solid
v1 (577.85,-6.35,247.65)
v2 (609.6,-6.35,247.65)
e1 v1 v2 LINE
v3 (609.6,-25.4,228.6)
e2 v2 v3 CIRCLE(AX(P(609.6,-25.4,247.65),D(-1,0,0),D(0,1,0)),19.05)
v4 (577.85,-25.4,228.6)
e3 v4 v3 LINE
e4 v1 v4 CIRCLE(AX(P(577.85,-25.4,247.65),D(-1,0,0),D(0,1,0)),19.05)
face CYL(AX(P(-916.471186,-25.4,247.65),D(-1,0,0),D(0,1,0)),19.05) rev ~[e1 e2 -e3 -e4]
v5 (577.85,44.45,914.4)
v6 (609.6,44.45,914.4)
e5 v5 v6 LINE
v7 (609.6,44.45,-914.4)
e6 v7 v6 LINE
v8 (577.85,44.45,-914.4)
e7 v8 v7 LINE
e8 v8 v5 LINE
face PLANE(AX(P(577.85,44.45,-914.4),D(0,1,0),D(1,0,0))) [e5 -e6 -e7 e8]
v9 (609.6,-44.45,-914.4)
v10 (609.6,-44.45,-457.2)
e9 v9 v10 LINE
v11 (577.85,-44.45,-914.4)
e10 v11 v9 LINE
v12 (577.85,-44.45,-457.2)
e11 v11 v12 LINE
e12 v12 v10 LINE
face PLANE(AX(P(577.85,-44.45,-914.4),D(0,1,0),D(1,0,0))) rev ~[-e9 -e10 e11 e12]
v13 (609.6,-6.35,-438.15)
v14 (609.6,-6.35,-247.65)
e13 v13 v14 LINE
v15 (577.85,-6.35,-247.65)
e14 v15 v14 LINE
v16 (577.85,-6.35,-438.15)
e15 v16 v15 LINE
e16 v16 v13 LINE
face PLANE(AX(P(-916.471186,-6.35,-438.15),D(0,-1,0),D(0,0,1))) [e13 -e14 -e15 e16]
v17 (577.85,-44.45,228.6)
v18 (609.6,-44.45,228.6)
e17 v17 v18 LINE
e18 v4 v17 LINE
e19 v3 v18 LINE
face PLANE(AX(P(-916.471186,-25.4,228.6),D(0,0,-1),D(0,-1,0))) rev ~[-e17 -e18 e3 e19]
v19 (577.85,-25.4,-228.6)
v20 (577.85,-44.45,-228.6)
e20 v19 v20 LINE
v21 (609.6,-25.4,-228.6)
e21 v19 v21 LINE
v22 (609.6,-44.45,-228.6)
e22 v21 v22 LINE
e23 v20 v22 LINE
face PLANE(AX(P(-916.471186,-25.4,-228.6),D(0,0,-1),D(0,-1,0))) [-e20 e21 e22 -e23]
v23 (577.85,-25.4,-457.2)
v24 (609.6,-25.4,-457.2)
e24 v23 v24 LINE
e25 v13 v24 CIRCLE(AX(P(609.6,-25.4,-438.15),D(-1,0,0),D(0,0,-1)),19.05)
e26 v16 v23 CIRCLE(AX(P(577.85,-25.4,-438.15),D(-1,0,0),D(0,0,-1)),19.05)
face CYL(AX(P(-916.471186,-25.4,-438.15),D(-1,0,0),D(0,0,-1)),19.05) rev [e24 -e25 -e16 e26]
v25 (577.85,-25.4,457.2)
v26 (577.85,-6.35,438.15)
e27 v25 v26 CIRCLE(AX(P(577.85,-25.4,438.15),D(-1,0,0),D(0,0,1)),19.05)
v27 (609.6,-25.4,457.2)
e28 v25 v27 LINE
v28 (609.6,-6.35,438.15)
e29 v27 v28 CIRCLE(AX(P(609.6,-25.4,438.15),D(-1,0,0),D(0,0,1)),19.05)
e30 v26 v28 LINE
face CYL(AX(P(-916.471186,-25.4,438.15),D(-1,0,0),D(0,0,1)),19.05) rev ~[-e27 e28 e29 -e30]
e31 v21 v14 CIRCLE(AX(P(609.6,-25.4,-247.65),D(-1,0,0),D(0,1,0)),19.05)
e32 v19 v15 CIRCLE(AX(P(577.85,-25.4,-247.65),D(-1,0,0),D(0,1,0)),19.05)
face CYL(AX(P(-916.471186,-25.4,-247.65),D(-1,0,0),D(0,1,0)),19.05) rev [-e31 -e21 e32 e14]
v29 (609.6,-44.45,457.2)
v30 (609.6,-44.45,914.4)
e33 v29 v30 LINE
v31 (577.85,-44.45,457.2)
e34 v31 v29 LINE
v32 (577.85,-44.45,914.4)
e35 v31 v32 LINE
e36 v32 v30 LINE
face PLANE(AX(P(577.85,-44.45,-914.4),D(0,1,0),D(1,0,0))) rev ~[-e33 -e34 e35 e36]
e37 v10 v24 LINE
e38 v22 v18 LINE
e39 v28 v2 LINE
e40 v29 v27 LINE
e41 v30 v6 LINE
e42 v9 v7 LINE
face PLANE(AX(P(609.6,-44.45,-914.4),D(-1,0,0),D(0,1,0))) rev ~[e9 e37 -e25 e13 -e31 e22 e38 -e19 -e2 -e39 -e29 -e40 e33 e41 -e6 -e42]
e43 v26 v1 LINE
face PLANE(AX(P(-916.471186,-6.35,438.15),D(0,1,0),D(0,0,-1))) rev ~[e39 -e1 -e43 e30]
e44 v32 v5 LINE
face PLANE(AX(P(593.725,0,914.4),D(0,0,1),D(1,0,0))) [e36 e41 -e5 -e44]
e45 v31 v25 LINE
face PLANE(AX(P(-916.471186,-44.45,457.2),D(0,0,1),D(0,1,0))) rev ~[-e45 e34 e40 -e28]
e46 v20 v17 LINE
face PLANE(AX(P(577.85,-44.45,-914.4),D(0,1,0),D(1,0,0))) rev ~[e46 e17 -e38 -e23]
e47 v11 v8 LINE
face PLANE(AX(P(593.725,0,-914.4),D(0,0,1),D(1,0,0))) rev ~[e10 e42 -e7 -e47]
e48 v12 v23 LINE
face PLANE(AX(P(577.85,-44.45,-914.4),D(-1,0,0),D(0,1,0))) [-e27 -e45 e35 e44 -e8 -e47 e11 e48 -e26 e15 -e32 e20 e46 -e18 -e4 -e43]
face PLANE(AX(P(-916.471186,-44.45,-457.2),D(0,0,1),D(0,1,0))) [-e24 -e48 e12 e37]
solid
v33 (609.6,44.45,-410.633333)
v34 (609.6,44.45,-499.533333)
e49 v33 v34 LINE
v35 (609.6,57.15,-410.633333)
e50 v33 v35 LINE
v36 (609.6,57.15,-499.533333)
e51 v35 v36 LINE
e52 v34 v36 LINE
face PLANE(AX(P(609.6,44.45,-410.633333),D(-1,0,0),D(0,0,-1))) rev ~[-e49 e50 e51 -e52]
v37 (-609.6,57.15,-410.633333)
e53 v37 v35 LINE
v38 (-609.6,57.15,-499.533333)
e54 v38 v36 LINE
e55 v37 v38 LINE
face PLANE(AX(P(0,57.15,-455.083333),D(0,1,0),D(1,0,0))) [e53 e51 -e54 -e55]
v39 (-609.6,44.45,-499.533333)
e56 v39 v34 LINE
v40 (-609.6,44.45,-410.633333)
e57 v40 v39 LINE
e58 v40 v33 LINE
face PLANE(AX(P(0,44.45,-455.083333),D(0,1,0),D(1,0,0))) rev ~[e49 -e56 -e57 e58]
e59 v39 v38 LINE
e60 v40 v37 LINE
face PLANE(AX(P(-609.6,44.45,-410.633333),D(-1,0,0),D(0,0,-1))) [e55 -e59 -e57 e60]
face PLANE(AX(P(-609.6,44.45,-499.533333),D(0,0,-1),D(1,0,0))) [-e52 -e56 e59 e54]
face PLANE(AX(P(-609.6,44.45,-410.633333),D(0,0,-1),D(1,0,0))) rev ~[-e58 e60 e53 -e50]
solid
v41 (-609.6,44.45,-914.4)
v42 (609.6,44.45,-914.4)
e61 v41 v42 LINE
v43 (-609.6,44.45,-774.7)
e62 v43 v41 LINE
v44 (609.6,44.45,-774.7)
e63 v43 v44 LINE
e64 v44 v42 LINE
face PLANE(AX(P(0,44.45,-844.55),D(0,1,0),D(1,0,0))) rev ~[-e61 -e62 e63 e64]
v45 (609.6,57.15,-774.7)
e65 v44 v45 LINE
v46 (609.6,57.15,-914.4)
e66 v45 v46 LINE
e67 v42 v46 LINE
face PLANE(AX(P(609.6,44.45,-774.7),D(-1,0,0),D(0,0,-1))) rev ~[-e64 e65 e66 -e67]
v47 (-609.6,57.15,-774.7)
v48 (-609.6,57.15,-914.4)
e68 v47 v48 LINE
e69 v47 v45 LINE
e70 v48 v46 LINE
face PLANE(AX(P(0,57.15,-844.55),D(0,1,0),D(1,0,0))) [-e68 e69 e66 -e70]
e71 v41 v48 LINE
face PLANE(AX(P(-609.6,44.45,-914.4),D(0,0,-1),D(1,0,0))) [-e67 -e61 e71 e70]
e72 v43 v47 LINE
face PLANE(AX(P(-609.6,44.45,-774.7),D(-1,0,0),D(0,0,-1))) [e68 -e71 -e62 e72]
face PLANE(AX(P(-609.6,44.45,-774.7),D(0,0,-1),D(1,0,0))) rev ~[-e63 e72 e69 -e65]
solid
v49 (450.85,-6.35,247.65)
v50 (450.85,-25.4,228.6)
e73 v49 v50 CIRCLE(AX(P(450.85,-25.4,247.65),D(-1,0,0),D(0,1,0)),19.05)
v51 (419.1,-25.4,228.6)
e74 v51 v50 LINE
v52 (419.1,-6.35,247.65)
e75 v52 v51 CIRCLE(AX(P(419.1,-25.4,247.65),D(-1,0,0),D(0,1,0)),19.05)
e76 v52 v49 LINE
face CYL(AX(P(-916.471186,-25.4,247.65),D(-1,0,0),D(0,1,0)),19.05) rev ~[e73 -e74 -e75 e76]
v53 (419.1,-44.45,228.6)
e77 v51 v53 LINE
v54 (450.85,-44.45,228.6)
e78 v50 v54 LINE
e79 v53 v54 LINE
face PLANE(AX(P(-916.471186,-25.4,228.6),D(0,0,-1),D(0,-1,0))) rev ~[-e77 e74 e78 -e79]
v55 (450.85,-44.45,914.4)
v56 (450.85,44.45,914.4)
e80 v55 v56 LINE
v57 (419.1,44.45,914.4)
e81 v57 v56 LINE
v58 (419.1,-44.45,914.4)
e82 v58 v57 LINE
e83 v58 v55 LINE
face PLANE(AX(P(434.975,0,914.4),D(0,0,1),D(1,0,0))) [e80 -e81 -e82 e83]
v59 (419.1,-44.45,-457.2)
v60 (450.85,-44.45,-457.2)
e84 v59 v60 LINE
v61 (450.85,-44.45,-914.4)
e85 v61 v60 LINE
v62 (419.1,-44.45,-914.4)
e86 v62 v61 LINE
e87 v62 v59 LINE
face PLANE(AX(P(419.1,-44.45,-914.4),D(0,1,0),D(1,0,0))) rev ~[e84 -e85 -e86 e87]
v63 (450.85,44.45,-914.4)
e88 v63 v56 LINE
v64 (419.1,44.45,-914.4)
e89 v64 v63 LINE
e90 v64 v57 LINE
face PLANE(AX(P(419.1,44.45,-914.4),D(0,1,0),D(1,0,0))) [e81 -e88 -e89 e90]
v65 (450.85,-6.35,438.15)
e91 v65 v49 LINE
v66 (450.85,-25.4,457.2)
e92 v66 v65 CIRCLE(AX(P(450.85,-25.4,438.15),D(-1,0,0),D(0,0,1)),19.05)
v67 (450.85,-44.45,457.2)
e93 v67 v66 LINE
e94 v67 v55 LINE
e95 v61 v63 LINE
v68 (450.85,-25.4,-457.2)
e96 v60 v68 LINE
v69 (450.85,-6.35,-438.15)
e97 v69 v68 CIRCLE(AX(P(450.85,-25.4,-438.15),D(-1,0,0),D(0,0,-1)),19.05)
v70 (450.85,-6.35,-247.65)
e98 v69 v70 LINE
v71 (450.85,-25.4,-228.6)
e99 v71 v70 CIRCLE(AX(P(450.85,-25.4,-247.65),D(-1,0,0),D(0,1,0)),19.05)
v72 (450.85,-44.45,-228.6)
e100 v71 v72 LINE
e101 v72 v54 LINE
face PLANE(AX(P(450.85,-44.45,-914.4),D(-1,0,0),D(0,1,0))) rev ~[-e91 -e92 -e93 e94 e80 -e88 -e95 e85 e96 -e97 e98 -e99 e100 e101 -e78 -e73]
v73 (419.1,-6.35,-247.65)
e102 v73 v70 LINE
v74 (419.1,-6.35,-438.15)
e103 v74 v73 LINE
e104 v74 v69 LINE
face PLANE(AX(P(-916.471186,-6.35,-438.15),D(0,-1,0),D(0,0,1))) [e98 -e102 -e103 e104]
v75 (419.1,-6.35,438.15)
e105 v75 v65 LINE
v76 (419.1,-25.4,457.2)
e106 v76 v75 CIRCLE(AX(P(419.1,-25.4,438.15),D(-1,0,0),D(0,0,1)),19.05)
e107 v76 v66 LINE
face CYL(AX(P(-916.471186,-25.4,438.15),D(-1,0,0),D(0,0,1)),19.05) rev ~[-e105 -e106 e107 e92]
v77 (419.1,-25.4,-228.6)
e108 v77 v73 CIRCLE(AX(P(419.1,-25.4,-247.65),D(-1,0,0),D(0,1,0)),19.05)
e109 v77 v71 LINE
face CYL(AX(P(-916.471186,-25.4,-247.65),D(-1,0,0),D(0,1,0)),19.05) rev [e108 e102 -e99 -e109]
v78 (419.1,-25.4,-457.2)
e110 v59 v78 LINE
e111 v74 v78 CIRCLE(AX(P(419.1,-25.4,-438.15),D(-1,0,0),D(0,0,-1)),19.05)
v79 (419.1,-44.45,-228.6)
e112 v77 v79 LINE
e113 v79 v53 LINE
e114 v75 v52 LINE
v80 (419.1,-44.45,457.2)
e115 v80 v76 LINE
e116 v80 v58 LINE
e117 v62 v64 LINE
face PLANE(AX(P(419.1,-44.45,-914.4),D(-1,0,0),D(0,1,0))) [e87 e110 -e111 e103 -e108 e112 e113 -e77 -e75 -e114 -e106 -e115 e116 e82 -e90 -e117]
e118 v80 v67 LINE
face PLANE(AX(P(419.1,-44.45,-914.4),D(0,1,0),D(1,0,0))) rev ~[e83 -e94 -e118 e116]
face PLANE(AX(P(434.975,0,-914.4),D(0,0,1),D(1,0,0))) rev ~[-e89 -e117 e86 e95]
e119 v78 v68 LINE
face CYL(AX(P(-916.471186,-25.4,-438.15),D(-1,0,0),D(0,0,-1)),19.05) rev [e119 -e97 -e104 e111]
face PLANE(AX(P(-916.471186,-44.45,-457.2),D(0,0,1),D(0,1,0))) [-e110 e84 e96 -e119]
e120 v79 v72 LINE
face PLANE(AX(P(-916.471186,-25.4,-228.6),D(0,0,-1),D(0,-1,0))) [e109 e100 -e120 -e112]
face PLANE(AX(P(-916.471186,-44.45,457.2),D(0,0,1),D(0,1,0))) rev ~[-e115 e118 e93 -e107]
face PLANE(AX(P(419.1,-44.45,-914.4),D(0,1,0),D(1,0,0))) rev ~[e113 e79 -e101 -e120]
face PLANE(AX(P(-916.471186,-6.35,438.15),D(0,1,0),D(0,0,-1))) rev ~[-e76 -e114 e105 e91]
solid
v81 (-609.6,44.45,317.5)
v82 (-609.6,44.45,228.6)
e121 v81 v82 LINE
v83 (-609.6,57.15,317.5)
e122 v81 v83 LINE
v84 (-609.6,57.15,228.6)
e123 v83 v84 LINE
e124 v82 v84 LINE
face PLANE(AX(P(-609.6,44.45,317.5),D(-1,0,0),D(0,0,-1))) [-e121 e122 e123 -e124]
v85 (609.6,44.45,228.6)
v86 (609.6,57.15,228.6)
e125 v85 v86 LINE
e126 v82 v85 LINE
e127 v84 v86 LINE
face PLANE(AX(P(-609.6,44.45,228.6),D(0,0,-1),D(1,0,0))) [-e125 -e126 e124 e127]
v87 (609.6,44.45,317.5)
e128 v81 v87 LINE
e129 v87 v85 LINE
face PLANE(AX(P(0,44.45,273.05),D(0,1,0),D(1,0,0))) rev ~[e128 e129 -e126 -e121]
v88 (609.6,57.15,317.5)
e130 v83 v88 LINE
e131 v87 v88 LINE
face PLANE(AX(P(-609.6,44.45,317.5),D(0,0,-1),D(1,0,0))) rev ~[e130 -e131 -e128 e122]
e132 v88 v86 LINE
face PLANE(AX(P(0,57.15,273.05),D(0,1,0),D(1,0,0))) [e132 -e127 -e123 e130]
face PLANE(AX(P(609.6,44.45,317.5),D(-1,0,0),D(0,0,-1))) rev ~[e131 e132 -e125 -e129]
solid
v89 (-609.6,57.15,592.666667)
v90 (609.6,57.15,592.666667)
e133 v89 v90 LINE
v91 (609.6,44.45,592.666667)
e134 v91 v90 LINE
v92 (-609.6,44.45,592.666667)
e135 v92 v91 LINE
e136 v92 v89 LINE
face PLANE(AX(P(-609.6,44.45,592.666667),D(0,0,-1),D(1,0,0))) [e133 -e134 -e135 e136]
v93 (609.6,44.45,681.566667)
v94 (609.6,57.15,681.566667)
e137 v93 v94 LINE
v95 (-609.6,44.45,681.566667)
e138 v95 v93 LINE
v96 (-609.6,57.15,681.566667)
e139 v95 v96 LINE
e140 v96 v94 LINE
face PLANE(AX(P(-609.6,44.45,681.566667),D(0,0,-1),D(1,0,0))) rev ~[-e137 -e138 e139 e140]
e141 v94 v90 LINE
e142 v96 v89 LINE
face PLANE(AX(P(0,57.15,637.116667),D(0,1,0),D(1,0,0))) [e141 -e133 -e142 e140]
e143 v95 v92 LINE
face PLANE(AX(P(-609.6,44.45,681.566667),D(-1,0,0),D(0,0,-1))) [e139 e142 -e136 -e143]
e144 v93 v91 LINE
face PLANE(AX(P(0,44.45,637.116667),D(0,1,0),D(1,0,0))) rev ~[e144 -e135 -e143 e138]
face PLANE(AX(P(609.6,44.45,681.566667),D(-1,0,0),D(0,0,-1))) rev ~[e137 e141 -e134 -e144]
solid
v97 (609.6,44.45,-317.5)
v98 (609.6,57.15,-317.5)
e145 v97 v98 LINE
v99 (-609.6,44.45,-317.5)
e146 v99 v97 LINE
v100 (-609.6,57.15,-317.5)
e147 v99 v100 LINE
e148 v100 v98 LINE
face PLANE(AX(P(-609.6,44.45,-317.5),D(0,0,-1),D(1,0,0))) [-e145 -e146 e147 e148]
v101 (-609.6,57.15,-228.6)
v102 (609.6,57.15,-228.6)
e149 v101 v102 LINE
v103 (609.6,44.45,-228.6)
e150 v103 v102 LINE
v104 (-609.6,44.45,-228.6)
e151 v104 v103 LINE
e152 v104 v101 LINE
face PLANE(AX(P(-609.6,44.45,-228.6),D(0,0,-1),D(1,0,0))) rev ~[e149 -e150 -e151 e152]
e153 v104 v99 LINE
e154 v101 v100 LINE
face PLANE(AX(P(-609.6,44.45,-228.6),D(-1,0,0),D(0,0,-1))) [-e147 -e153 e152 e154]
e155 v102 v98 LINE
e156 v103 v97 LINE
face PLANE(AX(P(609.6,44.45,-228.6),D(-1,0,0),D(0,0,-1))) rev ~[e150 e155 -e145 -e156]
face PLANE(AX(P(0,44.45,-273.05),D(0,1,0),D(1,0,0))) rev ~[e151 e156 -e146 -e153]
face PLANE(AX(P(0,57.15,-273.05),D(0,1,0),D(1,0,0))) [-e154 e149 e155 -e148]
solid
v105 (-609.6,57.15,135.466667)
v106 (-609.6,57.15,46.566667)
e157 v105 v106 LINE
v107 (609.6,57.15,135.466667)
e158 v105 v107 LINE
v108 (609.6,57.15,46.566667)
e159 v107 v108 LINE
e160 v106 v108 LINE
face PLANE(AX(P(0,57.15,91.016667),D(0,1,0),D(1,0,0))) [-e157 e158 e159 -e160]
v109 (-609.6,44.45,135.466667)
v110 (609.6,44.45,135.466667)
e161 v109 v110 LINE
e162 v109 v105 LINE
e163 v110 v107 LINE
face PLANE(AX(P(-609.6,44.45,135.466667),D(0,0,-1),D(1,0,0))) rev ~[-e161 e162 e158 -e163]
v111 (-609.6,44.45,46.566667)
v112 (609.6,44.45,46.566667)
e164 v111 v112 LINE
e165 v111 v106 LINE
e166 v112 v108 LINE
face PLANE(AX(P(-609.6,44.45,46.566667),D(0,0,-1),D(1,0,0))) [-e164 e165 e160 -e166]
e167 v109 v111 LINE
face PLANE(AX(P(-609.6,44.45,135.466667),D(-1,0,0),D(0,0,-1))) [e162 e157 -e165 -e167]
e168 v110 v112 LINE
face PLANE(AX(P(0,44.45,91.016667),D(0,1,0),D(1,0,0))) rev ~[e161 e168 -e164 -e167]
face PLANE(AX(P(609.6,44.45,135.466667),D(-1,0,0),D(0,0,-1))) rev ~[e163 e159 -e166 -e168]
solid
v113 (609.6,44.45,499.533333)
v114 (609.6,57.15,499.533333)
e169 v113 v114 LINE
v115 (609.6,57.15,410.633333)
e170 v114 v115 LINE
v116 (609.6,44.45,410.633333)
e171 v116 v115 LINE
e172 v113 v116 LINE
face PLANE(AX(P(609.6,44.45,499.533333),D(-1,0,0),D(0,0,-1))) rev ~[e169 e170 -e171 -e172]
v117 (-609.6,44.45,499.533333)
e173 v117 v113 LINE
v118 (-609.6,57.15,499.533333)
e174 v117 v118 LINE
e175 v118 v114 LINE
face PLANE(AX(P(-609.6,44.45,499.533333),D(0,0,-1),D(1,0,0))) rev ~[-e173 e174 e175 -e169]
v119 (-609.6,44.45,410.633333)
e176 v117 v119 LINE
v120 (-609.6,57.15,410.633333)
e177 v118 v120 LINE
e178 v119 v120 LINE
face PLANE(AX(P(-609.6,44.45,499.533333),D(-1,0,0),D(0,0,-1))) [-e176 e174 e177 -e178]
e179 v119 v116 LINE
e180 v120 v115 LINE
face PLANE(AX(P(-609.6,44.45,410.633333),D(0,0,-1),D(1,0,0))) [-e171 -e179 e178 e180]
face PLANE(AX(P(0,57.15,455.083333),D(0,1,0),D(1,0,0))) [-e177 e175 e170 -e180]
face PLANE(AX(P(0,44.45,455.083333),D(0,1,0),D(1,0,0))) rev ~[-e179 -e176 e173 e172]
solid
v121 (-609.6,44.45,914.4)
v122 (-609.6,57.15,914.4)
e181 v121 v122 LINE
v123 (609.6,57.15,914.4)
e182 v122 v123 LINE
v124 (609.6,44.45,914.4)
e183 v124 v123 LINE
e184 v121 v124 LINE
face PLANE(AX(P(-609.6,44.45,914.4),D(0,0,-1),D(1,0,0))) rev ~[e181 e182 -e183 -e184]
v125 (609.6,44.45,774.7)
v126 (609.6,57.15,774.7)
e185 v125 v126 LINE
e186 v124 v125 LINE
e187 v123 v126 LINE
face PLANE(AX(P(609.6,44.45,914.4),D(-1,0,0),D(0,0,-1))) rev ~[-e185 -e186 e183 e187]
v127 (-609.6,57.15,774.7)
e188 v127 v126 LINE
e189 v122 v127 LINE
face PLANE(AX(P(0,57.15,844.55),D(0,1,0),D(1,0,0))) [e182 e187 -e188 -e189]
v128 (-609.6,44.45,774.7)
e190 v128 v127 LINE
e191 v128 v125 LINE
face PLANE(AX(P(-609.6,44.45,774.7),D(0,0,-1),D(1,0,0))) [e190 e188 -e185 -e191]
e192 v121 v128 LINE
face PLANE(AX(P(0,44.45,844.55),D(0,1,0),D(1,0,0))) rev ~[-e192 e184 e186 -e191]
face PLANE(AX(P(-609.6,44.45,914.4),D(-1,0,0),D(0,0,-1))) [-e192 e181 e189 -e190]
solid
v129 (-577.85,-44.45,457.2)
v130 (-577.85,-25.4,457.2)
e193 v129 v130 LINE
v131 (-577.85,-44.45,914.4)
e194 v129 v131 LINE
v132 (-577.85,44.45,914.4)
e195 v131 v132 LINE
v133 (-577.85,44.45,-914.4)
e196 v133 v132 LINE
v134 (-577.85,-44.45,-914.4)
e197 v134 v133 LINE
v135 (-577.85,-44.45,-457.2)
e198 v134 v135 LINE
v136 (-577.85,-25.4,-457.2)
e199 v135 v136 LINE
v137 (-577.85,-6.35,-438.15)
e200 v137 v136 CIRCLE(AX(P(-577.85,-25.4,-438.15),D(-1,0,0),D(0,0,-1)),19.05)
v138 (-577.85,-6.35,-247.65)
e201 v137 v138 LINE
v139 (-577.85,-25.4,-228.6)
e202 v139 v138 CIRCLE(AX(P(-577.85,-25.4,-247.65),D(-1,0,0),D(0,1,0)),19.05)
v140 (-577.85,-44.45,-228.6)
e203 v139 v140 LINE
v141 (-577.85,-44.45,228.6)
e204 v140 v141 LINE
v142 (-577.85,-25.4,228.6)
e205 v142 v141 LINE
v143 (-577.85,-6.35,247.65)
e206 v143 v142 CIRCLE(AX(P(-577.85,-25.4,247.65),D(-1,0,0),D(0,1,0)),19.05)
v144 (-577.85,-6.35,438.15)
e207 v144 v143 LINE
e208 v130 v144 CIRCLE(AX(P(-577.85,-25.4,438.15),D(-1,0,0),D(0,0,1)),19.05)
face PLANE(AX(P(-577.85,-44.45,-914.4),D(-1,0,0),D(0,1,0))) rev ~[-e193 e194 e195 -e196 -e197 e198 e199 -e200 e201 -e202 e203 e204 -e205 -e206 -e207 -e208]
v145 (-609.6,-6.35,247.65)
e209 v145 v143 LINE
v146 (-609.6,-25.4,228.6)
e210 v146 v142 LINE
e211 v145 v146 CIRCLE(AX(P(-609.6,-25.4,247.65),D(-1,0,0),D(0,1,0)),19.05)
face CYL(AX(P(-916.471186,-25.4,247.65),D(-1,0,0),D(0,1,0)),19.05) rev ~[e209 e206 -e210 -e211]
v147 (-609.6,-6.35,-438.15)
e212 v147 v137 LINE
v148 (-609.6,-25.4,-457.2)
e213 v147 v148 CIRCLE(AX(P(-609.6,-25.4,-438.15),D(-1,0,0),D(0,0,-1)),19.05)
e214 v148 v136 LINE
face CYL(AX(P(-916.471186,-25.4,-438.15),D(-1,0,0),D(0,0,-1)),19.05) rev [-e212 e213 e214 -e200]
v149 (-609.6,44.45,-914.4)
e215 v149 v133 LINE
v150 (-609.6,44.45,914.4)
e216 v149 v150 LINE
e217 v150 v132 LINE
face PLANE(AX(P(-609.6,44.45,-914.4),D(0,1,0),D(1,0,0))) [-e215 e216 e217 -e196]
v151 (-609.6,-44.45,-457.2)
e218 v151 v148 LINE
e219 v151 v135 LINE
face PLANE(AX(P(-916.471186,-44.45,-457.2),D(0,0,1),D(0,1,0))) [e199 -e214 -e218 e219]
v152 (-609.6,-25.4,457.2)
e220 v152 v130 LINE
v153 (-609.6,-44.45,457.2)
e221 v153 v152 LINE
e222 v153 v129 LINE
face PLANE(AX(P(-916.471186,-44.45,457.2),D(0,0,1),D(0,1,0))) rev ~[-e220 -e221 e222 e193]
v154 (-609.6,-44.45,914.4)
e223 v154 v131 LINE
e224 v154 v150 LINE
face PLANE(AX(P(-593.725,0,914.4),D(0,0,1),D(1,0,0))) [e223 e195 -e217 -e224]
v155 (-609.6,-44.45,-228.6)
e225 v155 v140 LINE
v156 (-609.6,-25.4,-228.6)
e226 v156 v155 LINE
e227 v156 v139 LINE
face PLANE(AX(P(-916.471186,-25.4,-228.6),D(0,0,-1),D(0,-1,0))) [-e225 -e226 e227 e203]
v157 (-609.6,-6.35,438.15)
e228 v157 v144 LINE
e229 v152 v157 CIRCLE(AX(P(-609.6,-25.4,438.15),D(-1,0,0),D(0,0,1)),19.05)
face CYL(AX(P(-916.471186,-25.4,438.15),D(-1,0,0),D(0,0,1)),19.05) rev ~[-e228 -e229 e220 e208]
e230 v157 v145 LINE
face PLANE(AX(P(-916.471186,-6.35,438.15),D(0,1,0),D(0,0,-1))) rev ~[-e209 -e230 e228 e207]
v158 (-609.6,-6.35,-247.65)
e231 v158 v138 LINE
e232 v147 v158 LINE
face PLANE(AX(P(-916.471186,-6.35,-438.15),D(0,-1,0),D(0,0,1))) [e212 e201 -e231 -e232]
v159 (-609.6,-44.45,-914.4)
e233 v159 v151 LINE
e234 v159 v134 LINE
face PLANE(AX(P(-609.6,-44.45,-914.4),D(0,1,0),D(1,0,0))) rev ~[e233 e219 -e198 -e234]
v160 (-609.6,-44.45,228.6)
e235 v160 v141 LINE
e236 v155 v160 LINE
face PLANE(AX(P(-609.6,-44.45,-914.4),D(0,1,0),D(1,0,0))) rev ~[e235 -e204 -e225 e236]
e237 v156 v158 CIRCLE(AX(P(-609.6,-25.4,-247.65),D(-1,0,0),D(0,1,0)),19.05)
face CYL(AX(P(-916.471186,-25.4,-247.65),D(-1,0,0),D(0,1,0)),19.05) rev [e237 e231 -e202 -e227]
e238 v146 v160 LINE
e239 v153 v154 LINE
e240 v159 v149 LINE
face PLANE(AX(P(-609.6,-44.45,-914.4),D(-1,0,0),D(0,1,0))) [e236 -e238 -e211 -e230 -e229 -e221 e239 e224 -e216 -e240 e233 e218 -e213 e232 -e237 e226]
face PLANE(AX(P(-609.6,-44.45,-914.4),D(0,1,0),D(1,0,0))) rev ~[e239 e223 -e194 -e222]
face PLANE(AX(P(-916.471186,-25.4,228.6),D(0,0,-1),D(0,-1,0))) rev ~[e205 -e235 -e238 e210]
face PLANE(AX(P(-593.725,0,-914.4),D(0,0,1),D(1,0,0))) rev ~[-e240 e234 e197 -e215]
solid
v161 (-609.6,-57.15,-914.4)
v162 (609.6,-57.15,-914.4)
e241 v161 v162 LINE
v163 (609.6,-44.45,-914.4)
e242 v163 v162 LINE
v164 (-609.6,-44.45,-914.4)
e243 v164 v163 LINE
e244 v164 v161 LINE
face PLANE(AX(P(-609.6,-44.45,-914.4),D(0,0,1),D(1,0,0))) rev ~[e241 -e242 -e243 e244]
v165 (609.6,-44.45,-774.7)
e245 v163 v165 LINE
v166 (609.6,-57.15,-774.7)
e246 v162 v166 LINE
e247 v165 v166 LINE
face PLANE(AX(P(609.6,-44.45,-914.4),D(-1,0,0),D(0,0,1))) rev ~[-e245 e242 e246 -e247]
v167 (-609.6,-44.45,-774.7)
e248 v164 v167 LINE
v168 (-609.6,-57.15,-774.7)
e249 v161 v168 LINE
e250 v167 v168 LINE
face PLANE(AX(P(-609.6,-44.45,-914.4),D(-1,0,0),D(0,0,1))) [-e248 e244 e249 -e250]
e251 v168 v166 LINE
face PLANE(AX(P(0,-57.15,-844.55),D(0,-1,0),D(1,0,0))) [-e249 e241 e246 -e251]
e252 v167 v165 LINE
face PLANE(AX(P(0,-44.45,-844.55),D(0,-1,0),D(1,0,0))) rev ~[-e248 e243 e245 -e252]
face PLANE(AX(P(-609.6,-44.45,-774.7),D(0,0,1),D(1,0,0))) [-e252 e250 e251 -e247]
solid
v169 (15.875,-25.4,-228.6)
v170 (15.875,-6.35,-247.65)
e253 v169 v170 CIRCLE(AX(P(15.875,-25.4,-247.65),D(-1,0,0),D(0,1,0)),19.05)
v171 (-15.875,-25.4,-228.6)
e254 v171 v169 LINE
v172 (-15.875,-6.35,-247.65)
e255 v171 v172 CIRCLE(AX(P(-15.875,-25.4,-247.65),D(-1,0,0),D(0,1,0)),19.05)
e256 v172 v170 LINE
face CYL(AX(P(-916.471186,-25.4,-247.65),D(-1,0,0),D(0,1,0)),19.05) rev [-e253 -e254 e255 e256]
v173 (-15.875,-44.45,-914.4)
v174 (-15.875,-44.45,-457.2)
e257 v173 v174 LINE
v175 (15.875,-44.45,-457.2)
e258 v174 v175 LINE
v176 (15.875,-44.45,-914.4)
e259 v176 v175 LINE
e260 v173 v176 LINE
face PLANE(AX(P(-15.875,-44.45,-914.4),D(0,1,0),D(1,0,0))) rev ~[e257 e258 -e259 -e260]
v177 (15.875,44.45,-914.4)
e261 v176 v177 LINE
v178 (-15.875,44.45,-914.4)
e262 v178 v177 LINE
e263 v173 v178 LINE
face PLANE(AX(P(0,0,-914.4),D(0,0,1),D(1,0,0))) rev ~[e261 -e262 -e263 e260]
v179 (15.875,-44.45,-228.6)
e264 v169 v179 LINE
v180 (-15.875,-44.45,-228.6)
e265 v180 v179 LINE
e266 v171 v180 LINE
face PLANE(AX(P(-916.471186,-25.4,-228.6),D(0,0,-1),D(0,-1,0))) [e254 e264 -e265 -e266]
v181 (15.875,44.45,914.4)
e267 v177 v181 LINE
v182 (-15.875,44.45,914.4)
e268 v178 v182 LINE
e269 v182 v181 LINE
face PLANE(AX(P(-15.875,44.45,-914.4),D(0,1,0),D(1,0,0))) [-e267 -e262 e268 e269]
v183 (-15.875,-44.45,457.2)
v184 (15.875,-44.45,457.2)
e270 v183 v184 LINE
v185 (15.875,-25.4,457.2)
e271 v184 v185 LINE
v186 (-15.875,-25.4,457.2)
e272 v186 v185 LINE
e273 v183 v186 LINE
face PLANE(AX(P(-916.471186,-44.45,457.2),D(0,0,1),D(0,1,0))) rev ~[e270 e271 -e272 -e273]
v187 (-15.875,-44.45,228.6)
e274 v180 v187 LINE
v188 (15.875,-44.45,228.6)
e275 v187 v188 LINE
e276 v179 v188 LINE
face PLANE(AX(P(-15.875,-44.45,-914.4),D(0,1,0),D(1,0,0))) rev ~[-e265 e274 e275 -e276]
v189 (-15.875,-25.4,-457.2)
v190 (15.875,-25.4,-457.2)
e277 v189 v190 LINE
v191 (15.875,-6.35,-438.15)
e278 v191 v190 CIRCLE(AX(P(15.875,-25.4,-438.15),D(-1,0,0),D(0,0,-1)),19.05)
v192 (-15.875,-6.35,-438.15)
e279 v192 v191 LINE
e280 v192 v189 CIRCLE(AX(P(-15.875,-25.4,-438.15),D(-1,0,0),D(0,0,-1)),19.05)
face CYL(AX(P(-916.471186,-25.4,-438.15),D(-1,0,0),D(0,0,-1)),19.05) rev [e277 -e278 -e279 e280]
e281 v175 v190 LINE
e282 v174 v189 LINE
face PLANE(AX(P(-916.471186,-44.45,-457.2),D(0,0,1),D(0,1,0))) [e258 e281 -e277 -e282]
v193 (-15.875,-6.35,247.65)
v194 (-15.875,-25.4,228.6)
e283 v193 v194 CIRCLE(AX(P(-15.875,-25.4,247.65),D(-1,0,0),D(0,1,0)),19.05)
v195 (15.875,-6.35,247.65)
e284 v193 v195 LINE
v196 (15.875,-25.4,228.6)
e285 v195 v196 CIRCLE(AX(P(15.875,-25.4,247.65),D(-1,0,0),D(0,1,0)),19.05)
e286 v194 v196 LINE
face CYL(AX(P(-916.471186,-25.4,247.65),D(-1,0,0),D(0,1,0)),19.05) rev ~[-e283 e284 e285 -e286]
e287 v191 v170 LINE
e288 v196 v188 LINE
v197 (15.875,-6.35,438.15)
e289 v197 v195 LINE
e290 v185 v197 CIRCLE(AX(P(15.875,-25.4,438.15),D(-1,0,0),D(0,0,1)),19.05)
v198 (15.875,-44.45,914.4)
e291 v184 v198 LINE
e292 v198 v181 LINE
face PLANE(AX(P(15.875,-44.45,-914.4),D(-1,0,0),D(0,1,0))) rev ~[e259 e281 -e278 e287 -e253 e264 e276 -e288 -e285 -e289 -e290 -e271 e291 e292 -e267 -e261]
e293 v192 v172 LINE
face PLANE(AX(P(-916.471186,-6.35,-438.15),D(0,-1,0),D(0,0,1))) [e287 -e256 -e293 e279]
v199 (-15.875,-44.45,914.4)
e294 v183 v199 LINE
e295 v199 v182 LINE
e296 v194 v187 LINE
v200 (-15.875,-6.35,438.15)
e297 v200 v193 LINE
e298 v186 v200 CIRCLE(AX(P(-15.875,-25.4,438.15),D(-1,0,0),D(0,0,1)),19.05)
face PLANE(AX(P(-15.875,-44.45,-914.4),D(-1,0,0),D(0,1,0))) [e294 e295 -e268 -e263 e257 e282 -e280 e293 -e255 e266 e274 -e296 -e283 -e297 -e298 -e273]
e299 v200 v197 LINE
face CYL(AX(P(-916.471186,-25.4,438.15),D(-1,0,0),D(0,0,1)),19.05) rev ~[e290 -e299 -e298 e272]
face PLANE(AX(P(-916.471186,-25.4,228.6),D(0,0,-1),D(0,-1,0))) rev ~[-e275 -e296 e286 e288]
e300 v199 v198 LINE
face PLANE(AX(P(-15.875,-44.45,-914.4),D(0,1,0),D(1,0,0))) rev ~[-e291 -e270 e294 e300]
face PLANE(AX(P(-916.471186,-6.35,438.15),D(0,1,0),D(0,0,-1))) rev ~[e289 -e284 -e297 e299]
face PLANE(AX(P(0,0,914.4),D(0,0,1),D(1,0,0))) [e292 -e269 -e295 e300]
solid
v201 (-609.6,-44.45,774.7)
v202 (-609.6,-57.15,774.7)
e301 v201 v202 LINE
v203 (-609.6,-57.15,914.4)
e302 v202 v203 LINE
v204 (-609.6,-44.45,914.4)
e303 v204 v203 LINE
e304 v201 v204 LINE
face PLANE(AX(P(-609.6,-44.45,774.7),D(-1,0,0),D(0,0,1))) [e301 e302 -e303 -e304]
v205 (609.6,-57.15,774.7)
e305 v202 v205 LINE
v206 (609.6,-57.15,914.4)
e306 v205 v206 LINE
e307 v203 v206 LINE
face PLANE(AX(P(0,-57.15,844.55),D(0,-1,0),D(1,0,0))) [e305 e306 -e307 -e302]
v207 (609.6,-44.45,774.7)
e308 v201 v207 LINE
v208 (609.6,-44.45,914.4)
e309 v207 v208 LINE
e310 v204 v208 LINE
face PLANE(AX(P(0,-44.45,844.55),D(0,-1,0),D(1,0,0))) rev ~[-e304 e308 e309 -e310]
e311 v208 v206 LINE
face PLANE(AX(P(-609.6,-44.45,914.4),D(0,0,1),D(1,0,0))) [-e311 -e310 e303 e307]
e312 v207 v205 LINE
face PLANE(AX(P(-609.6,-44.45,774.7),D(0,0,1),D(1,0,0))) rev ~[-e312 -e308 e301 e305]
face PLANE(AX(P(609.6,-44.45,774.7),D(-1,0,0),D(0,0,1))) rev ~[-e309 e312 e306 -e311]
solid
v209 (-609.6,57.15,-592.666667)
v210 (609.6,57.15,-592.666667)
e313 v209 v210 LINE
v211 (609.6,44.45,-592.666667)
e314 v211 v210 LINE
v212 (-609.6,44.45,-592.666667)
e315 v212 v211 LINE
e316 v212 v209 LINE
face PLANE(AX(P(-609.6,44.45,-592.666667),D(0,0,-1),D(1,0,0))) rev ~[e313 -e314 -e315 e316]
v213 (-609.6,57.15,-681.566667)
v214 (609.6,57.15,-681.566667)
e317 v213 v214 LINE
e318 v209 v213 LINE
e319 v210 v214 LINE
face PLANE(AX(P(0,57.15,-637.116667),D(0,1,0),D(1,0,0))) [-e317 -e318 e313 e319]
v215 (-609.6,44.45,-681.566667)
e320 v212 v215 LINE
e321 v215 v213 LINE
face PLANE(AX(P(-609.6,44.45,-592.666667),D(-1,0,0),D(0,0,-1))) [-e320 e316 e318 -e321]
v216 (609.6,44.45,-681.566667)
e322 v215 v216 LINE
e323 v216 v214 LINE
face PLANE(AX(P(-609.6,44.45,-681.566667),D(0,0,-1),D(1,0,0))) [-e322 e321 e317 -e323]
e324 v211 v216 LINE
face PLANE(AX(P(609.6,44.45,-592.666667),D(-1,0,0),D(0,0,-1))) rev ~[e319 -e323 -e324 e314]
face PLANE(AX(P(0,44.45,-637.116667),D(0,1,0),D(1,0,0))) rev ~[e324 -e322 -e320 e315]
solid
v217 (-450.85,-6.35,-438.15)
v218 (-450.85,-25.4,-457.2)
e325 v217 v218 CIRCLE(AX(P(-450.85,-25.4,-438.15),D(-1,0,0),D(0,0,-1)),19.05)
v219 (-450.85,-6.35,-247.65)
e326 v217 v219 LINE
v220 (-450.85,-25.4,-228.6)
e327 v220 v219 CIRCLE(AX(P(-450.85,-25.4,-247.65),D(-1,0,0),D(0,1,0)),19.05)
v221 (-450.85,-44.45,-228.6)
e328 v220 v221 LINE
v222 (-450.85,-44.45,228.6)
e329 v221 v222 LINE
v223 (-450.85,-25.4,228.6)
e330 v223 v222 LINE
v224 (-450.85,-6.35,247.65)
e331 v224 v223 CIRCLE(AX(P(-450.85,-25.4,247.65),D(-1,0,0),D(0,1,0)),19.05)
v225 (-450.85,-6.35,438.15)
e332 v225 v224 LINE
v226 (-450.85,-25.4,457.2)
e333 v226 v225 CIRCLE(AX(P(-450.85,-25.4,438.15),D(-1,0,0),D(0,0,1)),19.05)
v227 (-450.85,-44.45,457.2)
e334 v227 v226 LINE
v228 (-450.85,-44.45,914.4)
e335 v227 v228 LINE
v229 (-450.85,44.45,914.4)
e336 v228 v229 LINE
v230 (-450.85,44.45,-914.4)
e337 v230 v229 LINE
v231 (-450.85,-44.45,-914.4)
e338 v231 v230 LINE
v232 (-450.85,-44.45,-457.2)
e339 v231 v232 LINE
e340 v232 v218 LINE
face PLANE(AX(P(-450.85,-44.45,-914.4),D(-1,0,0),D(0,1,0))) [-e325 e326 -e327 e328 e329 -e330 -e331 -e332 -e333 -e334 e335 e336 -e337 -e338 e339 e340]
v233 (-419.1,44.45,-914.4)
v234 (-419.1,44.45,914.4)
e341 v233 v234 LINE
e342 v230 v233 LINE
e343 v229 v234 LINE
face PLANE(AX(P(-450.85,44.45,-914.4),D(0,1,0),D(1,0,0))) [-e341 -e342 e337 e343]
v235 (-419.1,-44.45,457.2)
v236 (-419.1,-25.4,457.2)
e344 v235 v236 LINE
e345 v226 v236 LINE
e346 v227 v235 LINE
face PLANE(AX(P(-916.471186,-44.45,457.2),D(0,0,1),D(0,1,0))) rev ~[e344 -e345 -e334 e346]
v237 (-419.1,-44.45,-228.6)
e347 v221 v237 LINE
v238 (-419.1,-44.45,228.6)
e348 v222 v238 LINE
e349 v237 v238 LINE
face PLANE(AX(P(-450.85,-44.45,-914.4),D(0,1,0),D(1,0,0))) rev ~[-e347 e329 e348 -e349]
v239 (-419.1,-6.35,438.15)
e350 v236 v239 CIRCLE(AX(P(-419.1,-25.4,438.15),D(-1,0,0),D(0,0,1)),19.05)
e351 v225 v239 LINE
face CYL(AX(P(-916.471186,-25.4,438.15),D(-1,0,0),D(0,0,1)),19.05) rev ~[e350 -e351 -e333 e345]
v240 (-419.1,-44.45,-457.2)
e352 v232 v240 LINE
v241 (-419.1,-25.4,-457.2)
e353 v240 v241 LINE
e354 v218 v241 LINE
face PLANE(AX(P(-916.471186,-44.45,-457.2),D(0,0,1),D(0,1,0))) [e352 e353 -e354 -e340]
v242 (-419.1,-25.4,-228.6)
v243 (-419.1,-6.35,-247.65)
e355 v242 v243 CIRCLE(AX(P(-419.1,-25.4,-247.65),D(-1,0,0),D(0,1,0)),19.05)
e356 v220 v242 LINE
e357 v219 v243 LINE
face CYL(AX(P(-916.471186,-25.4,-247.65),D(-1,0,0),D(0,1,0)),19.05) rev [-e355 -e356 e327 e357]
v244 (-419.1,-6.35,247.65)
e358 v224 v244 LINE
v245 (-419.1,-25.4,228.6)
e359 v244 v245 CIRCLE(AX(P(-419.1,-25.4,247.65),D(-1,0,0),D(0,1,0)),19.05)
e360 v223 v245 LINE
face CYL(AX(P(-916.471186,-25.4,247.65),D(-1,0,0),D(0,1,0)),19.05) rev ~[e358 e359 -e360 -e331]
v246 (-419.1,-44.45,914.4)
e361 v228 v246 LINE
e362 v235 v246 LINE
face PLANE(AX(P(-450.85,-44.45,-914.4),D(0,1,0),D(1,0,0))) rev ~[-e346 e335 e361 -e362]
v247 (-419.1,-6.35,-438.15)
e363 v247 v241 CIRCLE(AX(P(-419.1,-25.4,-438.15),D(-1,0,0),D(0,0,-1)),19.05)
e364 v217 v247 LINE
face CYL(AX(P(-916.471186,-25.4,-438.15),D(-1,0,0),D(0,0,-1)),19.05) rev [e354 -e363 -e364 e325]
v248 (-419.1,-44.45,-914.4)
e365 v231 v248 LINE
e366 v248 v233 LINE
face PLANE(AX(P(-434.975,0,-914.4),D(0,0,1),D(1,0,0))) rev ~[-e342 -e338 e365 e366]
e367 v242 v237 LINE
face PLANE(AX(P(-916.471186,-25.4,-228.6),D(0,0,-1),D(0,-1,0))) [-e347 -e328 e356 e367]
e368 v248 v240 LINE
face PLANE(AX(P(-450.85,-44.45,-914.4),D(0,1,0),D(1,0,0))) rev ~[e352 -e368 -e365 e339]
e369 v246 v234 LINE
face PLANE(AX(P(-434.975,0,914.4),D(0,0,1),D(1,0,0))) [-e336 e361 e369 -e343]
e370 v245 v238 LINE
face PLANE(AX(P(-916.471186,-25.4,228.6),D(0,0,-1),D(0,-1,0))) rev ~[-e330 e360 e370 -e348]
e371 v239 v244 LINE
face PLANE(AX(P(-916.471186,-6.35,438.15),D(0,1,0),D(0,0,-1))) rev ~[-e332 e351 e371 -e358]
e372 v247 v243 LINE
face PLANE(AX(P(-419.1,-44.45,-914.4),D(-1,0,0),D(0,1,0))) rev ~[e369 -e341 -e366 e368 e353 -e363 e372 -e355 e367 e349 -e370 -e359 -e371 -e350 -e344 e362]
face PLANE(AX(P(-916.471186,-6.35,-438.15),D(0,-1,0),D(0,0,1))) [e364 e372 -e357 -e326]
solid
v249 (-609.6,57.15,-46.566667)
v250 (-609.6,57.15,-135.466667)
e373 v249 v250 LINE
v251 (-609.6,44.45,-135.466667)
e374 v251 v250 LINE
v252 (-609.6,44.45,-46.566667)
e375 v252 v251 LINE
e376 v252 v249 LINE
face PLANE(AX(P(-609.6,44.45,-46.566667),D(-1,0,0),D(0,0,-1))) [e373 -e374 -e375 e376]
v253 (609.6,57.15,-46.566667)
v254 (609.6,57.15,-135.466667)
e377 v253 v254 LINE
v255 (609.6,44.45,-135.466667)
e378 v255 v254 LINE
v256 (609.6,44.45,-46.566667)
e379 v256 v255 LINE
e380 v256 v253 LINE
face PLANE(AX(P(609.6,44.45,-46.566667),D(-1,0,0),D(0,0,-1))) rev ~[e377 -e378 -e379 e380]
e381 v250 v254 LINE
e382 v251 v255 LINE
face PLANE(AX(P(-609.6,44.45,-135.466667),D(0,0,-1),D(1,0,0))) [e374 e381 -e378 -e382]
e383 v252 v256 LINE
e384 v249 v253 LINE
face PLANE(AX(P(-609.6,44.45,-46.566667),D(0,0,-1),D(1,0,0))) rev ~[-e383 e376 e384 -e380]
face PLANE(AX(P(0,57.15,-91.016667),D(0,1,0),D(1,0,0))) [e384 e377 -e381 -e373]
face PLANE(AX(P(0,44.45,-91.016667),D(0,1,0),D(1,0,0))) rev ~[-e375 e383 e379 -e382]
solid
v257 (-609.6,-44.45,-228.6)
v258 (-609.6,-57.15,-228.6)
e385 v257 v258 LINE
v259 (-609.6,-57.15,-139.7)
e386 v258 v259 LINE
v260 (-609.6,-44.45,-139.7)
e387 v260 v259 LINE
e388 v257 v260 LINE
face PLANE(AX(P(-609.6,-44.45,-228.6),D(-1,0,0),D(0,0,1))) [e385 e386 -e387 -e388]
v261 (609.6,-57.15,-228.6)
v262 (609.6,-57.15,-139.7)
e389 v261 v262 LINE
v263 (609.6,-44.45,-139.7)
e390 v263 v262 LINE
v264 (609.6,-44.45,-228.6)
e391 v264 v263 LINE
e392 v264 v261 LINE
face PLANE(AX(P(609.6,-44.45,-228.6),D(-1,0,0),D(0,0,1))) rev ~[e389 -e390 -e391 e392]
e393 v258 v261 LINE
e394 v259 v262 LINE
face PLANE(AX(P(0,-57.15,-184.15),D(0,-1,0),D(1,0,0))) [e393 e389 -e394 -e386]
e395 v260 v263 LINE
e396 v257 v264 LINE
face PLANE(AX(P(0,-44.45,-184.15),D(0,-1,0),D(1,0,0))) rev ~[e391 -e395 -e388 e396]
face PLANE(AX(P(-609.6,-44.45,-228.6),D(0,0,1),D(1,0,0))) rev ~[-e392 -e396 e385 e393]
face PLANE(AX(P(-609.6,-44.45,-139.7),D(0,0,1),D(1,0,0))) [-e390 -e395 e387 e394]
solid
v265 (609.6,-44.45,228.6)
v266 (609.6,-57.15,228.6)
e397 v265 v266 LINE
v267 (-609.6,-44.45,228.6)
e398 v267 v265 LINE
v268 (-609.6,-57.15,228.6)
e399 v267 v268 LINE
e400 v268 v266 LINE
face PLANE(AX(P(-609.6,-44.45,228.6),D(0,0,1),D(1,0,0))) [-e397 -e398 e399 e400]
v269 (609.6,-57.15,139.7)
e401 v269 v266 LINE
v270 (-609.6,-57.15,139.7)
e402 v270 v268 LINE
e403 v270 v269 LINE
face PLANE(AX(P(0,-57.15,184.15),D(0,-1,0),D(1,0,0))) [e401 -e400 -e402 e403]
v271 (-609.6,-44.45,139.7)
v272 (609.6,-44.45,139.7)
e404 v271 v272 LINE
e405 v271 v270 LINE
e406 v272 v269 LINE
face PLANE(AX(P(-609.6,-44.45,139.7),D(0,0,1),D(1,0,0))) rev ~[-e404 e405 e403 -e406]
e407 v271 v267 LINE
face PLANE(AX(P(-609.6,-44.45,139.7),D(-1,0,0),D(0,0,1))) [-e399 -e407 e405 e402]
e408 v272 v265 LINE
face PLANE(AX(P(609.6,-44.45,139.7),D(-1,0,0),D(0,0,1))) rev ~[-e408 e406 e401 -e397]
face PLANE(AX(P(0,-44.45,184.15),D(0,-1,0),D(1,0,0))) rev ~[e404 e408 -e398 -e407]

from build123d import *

# Parameters (mm, degrees)
BOSS_EXTRUDE1_DEPTH        = 914.4
BOSS_EXTRUDE1_DEPTH_BACK   = 914.4
SKETCH3_W                  = 31.75
SKETCH3_H                  = 88.9
BOSS_EXTRUDE1_2_DEPTH      = 914.4
BOSS_EXTRUDE1_2_DEPTH_BACK = 914.4
BOSS_EXTRUDE1_3_DEPTH      = 914.4
BOSS_EXTRUDE1_3_DEPTH_BACK = 914.4
BOSS_EXTRUDE1_4_DEPTH      = 914.4
BOSS_EXTRUDE1_4_DEPTH_BACK = 914.4
BOSS_EXTRUDE1_5_DEPTH      = 914.4
BOSS_EXTRUDE1_5_DEPTH_BACK = 914.4
SKETCH4_W                  = 1219.2
SKETCH4_H                  = 139.7
BOSS_EXTRUDE2_DEPTH        = 12.7
BOSS_EXTRUDE2_2_DEPTH      = 12.7
SKETCH4_H_2                = 88.9
BOSS_EXTRUDE2_3_DEPTH      = 12.7
BOSS_EXTRUDE2_4_DEPTH      = 12.7
BOSS_EXTRUDE2_5_DEPTH      = 12.7
BOSS_EXTRUDE2_6_DEPTH      = 12.7
BOSS_EXTRUDE2_7_DEPTH      = 12.7
BOSS_EXTRUDE2_8_DEPTH      = 12.7
BOSS_EXTRUDE2_9_DEPTH      = 12.7
BOSS_EXTRUDE2_10_DEPTH     = 12.7
SKETCH5_W                  = 1219.2
SKETCH5_H                  = 139.7
BOSS_EXTRUDE3_DEPTH        = 12.7
BOSS_EXTRUDE3_2_DEPTH      = 12.7
SKETCH5_H_2                = 88.9
BOSS_EXTRUDE3_3_DEPTH      = 12.7
BOSS_EXTRUDE3_4_DEPTH      = 12.7
CUT_EXTRUDE2_DEPTH         = 1526.071186043
CUT_EXTRUDE2_DEPTH_BACK    = 1526.071186043


with BuildPart() as part:
    # Sketch3 → Boss-Extrude1 (new, two sides: drawn at the far end of the back side and taken through both)
    with BuildSketch(Plane.XY.offset(-BOSS_EXTRUDE1_DEPTH_BACK)):
        with Locations((-593.725, 0)):
            Rectangle(SKETCH3_W, SKETCH3_H)
    extrude(amount=BOSS_EXTRUDE1_DEPTH + BOSS_EXTRUDE1_DEPTH_BACK)


with BuildPart() as body_2:
    # Sketch3 → Boss-Extrude1 2 (new, two sides: drawn at the far end of the back side and taken through both)
    with BuildSketch(Plane.XY.offset(-BOSS_EXTRUDE1_2_DEPTH_BACK)):
        with Locations((434.975, 0)):
            Rectangle(SKETCH3_W, SKETCH3_H)
    extrude(amount=BOSS_EXTRUDE1_2_DEPTH + BOSS_EXTRUDE1_2_DEPTH_BACK)


with BuildPart() as body_3:
    # Sketch3 → Boss-Extrude1 3 (new, two sides: drawn at the far end of the back side and taken through both)
    with BuildSketch(Plane.XY.offset(-BOSS_EXTRUDE1_3_DEPTH_BACK)):
        with Locations((593.725, 0)):
            Rectangle(SKETCH3_W, SKETCH3_H)
    extrude(amount=BOSS_EXTRUDE1_3_DEPTH + BOSS_EXTRUDE1_3_DEPTH_BACK)


with BuildPart() as body_4:
    # Sketch3 → Boss-Extrude1 4 (new, two sides: drawn at the far end of the back side and taken through both)
    with BuildSketch(Plane.XY.offset(-BOSS_EXTRUDE1_4_DEPTH_BACK)):
        with Locations((-434.975, 0)):
            Rectangle(SKETCH3_W, SKETCH3_H)
    extrude(amount=BOSS_EXTRUDE1_4_DEPTH + BOSS_EXTRUDE1_4_DEPTH_BACK)


with BuildPart() as body_5:
    # Sketch3 → Boss-Extrude1 5 (new, two sides: drawn at the far end of the back side and taken through both)
    with BuildSketch(Plane.XY.offset(-BOSS_EXTRUDE1_5_DEPTH_BACK)):
        Rectangle(SKETCH3_W, SKETCH3_H)
    extrude(amount=BOSS_EXTRUDE1_5_DEPTH + BOSS_EXTRUDE1_5_DEPTH_BACK)


with BuildPart() as body_6:
    # Sketch4 → Boss-Extrude2 (new body)
    with BuildSketch(Plane(origin=(0, 44.45, 0), x_dir=(1, 0, 0), z_dir=(0, 1, 0))):
        with Locations((0, -844.55)):
            Rectangle(SKETCH4_W, SKETCH4_H)
    extrude(amount=BOSS_EXTRUDE2_DEPTH)


with BuildPart() as body_7:
    # Sketch4 → Boss-Extrude2 2 (new body)
    with BuildSketch(Plane(origin=(0, 44.45, 0), x_dir=(1, 0, 0), z_dir=(0, 1, 0))):
        with Locations((0, 844.55)):
            Rectangle(SKETCH4_W, SKETCH4_H)
    extrude(amount=BOSS_EXTRUDE2_2_DEPTH)


with BuildPart() as body_8:
    # Sketch4 → Boss-Extrude2 3 (new body)
    with BuildSketch(Plane(origin=(0, 44.45, 0), x_dir=(1, 0, 0), z_dir=(0, 1, 0))):
        with Locations((0, -637.116666667)):
            Rectangle(SKETCH4_W, SKETCH4_H_2)
    extrude(amount=BOSS_EXTRUDE2_3_DEPTH)


with BuildPart() as body_9:
    # Sketch4 → Boss-Extrude2 4 (new body)
    with BuildSketch(Plane(origin=(0, 44.45, 0), x_dir=(1, 0, 0), z_dir=(0, 1, 0))):
        with Locations((0, -455.083333333)):
            Rectangle(SKETCH4_W, SKETCH4_H_2)
    extrude(amount=BOSS_EXTRUDE2_4_DEPTH)


with BuildPart() as body_10:
    # Sketch4 → Boss-Extrude2 5 (new body)
    with BuildSketch(Plane(origin=(0, 44.45, 0), x_dir=(1, 0, 0), z_dir=(0, 1, 0))):
        with Locations((0, 637.116666667)):
            Rectangle(SKETCH4_W, SKETCH4_H_2)
    extrude(amount=BOSS_EXTRUDE2_5_DEPTH)


with BuildPart() as body_11:
    # Sketch4 → Boss-Extrude2 6 (new body)
    with BuildSketch(Plane(origin=(0, 44.45, 0), x_dir=(1, 0, 0), z_dir=(0, 1, 0))):
        with Locations((0, -91.016666667)):
            Rectangle(SKETCH4_W, SKETCH4_H_2)
    extrude(amount=BOSS_EXTRUDE2_6_DEPTH)


with BuildPart() as body_12:
    # Sketch4 → Boss-Extrude2 7 (new body)
    with BuildSketch(Plane(origin=(0, 44.45, 0), x_dir=(1, 0, 0), z_dir=(0, 1, 0))):
        with Locations((0, -273.05)):
            Rectangle(SKETCH4_W, SKETCH4_H_2)
    extrude(amount=BOSS_EXTRUDE2_7_DEPTH)


with BuildPart() as body_13:
    # Sketch4 → Boss-Extrude2 8 (new body)
    with BuildSketch(Plane(origin=(0, 44.45, 0), x_dir=(1, 0, 0), z_dir=(0, 1, 0))):
        with Locations((0, 455.083333333)):
            Rectangle(SKETCH4_W, SKETCH4_H_2)
    extrude(amount=BOSS_EXTRUDE2_8_DEPTH)


with BuildPart() as body_14:
    # Sketch4 → Boss-Extrude2 9 (new body)
    with BuildSketch(Plane(origin=(0, 44.45, 0), x_dir=(1, 0, 0), z_dir=(0, 1, 0))):
        with Locations((0, 273.05)):
            Rectangle(SKETCH4_W, SKETCH4_H_2)
    extrude(amount=BOSS_EXTRUDE2_9_DEPTH)


with BuildPart() as body_15:
    # Sketch4 → Boss-Extrude2 10 (new body)
    with BuildSketch(Plane(origin=(0, 44.45, 0), x_dir=(1, 0, 0), z_dir=(0, 1, 0))):
        with Locations((0, 91.016666667)):
            Rectangle(SKETCH4_W, SKETCH4_H_2)
    extrude(amount=BOSS_EXTRUDE2_10_DEPTH)


with BuildPart() as body_16:
    # Sketch5 → Boss-Extrude3 (new body)
    with BuildSketch(Plane.XZ.offset(44.45)):
        with Locations((0, 844.55)):
            Rectangle(SKETCH5_W, SKETCH5_H)
    extrude(amount=BOSS_EXTRUDE3_DEPTH)


with BuildPart() as body_17:
    # Sketch5 → Boss-Extrude3 2 (new body)
    with BuildSketch(Plane.XZ.offset(44.45)):
        with Locations((0, -844.55)):
            Rectangle(SKETCH5_W, SKETCH5_H)
    extrude(amount=BOSS_EXTRUDE3_2_DEPTH)


with BuildPart() as body_18:
    # Sketch5 → Boss-Extrude3 3 (new body)
    with BuildSketch(Plane.XZ.offset(44.45)):
        with Locations((0, 184.15)):
            Rectangle(SKETCH5_W, SKETCH5_H_2)
    extrude(amount=BOSS_EXTRUDE3_3_DEPTH)


with BuildPart() as body_19:
    # Sketch5 → Boss-Extrude3 4 (new body)
    with BuildSketch(Plane.XZ.offset(44.45)):
        with Locations((0, -184.15)):
            Rectangle(SKETCH5_W, SKETCH5_H_2)
    extrude(amount=BOSS_EXTRUDE3_4_DEPTH)


with BuildPart() as cut_extrude2_tool:
    # Sketch8 → Cut-Extrude2 (new, two sides: drawn at the far end of the back side and taken through both)
    with BuildSketch(Plane(origin=(609.6, 0, 0), x_dir=(0, 0, -1), z_dir=(1, 0, 0)).offset(-CUT_EXTRUDE2_DEPTH_BACK)):
        with BuildLine():
            Line((-228.6, -44.45), (-457.2, -44.45))
            Line((-457.2, -44.45), (-457.2, -25.4))
            ThreePointArc((-457.2, -25.4), (-451.620384182, -11.929615818), (-438.15, -6.35))
            Line((-438.15, -6.35), (-247.65, -6.35))
            ThreePointArc((-247.65, -6.35), (-234.179615818, -11.929615818), (-228.6, -25.4))
            Line((-228.6, -25.4), (-228.6, -44.45))
        make_face()
        with BuildLine():
            Line((228.6, -44.45), (457.2, -44.45))
            Line((457.2, -44.45), (457.2, -25.4))
            ThreePointArc((457.2, -25.4), (451.620384182, -11.929615818), (438.15, -6.35))
            Line((438.15, -6.35), (247.65, -6.35))
            ThreePointArc((247.65, -6.35), (234.179615818, -11.929615818), (228.6, -25.4))
            Line((228.6, -25.4), (228.6, -44.45))
        make_face()
    extrude(amount=CUT_EXTRUDE2_DEPTH + CUT_EXTRUDE2_DEPTH_BACK)


with BuildPart() as part_1:
    add(part.part)

    # Cut-Extrude2: cut by cut_extrude2_tool
    add(cut_extrude2_tool.part, mode=Mode.SUBTRACT)


with BuildPart() as body_2_1:
    add(body_2.part)

    # Cut-Extrude2: cut by cut_extrude2_tool
    add(cut_extrude2_tool.part, mode=Mode.SUBTRACT)


with BuildPart() as body_3_1:
    add(body_3.part)

    # Cut-Extrude2: cut by cut_extrude2_tool
    add(cut_extrude2_tool.part, mode=Mode.SUBTRACT)


with BuildPart() as body_4_1:
    add(body_4.part)

    # Cut-Extrude2: cut by cut_extrude2_tool
    add(cut_extrude2_tool.part, mode=Mode.SUBTRACT)


with BuildPart() as body_5_1:
    add(body_5.part)

    # Cut-Extrude2: cut by cut_extrude2_tool
    add(cut_extrude2_tool.part, mode=Mode.SUBTRACT)


solid = Compound([body_6.part, body_7.part, body_8.part, body_9.part, body_10.part, body_11.part, body_12.part, body_13.part, body_14.part, body_15.part, body_16.part, body_17.part, body_18.part, body_19.part, part_1.part, body_2_1.part, body_3_1.part, body_4_1.part, body_5_1.part])
